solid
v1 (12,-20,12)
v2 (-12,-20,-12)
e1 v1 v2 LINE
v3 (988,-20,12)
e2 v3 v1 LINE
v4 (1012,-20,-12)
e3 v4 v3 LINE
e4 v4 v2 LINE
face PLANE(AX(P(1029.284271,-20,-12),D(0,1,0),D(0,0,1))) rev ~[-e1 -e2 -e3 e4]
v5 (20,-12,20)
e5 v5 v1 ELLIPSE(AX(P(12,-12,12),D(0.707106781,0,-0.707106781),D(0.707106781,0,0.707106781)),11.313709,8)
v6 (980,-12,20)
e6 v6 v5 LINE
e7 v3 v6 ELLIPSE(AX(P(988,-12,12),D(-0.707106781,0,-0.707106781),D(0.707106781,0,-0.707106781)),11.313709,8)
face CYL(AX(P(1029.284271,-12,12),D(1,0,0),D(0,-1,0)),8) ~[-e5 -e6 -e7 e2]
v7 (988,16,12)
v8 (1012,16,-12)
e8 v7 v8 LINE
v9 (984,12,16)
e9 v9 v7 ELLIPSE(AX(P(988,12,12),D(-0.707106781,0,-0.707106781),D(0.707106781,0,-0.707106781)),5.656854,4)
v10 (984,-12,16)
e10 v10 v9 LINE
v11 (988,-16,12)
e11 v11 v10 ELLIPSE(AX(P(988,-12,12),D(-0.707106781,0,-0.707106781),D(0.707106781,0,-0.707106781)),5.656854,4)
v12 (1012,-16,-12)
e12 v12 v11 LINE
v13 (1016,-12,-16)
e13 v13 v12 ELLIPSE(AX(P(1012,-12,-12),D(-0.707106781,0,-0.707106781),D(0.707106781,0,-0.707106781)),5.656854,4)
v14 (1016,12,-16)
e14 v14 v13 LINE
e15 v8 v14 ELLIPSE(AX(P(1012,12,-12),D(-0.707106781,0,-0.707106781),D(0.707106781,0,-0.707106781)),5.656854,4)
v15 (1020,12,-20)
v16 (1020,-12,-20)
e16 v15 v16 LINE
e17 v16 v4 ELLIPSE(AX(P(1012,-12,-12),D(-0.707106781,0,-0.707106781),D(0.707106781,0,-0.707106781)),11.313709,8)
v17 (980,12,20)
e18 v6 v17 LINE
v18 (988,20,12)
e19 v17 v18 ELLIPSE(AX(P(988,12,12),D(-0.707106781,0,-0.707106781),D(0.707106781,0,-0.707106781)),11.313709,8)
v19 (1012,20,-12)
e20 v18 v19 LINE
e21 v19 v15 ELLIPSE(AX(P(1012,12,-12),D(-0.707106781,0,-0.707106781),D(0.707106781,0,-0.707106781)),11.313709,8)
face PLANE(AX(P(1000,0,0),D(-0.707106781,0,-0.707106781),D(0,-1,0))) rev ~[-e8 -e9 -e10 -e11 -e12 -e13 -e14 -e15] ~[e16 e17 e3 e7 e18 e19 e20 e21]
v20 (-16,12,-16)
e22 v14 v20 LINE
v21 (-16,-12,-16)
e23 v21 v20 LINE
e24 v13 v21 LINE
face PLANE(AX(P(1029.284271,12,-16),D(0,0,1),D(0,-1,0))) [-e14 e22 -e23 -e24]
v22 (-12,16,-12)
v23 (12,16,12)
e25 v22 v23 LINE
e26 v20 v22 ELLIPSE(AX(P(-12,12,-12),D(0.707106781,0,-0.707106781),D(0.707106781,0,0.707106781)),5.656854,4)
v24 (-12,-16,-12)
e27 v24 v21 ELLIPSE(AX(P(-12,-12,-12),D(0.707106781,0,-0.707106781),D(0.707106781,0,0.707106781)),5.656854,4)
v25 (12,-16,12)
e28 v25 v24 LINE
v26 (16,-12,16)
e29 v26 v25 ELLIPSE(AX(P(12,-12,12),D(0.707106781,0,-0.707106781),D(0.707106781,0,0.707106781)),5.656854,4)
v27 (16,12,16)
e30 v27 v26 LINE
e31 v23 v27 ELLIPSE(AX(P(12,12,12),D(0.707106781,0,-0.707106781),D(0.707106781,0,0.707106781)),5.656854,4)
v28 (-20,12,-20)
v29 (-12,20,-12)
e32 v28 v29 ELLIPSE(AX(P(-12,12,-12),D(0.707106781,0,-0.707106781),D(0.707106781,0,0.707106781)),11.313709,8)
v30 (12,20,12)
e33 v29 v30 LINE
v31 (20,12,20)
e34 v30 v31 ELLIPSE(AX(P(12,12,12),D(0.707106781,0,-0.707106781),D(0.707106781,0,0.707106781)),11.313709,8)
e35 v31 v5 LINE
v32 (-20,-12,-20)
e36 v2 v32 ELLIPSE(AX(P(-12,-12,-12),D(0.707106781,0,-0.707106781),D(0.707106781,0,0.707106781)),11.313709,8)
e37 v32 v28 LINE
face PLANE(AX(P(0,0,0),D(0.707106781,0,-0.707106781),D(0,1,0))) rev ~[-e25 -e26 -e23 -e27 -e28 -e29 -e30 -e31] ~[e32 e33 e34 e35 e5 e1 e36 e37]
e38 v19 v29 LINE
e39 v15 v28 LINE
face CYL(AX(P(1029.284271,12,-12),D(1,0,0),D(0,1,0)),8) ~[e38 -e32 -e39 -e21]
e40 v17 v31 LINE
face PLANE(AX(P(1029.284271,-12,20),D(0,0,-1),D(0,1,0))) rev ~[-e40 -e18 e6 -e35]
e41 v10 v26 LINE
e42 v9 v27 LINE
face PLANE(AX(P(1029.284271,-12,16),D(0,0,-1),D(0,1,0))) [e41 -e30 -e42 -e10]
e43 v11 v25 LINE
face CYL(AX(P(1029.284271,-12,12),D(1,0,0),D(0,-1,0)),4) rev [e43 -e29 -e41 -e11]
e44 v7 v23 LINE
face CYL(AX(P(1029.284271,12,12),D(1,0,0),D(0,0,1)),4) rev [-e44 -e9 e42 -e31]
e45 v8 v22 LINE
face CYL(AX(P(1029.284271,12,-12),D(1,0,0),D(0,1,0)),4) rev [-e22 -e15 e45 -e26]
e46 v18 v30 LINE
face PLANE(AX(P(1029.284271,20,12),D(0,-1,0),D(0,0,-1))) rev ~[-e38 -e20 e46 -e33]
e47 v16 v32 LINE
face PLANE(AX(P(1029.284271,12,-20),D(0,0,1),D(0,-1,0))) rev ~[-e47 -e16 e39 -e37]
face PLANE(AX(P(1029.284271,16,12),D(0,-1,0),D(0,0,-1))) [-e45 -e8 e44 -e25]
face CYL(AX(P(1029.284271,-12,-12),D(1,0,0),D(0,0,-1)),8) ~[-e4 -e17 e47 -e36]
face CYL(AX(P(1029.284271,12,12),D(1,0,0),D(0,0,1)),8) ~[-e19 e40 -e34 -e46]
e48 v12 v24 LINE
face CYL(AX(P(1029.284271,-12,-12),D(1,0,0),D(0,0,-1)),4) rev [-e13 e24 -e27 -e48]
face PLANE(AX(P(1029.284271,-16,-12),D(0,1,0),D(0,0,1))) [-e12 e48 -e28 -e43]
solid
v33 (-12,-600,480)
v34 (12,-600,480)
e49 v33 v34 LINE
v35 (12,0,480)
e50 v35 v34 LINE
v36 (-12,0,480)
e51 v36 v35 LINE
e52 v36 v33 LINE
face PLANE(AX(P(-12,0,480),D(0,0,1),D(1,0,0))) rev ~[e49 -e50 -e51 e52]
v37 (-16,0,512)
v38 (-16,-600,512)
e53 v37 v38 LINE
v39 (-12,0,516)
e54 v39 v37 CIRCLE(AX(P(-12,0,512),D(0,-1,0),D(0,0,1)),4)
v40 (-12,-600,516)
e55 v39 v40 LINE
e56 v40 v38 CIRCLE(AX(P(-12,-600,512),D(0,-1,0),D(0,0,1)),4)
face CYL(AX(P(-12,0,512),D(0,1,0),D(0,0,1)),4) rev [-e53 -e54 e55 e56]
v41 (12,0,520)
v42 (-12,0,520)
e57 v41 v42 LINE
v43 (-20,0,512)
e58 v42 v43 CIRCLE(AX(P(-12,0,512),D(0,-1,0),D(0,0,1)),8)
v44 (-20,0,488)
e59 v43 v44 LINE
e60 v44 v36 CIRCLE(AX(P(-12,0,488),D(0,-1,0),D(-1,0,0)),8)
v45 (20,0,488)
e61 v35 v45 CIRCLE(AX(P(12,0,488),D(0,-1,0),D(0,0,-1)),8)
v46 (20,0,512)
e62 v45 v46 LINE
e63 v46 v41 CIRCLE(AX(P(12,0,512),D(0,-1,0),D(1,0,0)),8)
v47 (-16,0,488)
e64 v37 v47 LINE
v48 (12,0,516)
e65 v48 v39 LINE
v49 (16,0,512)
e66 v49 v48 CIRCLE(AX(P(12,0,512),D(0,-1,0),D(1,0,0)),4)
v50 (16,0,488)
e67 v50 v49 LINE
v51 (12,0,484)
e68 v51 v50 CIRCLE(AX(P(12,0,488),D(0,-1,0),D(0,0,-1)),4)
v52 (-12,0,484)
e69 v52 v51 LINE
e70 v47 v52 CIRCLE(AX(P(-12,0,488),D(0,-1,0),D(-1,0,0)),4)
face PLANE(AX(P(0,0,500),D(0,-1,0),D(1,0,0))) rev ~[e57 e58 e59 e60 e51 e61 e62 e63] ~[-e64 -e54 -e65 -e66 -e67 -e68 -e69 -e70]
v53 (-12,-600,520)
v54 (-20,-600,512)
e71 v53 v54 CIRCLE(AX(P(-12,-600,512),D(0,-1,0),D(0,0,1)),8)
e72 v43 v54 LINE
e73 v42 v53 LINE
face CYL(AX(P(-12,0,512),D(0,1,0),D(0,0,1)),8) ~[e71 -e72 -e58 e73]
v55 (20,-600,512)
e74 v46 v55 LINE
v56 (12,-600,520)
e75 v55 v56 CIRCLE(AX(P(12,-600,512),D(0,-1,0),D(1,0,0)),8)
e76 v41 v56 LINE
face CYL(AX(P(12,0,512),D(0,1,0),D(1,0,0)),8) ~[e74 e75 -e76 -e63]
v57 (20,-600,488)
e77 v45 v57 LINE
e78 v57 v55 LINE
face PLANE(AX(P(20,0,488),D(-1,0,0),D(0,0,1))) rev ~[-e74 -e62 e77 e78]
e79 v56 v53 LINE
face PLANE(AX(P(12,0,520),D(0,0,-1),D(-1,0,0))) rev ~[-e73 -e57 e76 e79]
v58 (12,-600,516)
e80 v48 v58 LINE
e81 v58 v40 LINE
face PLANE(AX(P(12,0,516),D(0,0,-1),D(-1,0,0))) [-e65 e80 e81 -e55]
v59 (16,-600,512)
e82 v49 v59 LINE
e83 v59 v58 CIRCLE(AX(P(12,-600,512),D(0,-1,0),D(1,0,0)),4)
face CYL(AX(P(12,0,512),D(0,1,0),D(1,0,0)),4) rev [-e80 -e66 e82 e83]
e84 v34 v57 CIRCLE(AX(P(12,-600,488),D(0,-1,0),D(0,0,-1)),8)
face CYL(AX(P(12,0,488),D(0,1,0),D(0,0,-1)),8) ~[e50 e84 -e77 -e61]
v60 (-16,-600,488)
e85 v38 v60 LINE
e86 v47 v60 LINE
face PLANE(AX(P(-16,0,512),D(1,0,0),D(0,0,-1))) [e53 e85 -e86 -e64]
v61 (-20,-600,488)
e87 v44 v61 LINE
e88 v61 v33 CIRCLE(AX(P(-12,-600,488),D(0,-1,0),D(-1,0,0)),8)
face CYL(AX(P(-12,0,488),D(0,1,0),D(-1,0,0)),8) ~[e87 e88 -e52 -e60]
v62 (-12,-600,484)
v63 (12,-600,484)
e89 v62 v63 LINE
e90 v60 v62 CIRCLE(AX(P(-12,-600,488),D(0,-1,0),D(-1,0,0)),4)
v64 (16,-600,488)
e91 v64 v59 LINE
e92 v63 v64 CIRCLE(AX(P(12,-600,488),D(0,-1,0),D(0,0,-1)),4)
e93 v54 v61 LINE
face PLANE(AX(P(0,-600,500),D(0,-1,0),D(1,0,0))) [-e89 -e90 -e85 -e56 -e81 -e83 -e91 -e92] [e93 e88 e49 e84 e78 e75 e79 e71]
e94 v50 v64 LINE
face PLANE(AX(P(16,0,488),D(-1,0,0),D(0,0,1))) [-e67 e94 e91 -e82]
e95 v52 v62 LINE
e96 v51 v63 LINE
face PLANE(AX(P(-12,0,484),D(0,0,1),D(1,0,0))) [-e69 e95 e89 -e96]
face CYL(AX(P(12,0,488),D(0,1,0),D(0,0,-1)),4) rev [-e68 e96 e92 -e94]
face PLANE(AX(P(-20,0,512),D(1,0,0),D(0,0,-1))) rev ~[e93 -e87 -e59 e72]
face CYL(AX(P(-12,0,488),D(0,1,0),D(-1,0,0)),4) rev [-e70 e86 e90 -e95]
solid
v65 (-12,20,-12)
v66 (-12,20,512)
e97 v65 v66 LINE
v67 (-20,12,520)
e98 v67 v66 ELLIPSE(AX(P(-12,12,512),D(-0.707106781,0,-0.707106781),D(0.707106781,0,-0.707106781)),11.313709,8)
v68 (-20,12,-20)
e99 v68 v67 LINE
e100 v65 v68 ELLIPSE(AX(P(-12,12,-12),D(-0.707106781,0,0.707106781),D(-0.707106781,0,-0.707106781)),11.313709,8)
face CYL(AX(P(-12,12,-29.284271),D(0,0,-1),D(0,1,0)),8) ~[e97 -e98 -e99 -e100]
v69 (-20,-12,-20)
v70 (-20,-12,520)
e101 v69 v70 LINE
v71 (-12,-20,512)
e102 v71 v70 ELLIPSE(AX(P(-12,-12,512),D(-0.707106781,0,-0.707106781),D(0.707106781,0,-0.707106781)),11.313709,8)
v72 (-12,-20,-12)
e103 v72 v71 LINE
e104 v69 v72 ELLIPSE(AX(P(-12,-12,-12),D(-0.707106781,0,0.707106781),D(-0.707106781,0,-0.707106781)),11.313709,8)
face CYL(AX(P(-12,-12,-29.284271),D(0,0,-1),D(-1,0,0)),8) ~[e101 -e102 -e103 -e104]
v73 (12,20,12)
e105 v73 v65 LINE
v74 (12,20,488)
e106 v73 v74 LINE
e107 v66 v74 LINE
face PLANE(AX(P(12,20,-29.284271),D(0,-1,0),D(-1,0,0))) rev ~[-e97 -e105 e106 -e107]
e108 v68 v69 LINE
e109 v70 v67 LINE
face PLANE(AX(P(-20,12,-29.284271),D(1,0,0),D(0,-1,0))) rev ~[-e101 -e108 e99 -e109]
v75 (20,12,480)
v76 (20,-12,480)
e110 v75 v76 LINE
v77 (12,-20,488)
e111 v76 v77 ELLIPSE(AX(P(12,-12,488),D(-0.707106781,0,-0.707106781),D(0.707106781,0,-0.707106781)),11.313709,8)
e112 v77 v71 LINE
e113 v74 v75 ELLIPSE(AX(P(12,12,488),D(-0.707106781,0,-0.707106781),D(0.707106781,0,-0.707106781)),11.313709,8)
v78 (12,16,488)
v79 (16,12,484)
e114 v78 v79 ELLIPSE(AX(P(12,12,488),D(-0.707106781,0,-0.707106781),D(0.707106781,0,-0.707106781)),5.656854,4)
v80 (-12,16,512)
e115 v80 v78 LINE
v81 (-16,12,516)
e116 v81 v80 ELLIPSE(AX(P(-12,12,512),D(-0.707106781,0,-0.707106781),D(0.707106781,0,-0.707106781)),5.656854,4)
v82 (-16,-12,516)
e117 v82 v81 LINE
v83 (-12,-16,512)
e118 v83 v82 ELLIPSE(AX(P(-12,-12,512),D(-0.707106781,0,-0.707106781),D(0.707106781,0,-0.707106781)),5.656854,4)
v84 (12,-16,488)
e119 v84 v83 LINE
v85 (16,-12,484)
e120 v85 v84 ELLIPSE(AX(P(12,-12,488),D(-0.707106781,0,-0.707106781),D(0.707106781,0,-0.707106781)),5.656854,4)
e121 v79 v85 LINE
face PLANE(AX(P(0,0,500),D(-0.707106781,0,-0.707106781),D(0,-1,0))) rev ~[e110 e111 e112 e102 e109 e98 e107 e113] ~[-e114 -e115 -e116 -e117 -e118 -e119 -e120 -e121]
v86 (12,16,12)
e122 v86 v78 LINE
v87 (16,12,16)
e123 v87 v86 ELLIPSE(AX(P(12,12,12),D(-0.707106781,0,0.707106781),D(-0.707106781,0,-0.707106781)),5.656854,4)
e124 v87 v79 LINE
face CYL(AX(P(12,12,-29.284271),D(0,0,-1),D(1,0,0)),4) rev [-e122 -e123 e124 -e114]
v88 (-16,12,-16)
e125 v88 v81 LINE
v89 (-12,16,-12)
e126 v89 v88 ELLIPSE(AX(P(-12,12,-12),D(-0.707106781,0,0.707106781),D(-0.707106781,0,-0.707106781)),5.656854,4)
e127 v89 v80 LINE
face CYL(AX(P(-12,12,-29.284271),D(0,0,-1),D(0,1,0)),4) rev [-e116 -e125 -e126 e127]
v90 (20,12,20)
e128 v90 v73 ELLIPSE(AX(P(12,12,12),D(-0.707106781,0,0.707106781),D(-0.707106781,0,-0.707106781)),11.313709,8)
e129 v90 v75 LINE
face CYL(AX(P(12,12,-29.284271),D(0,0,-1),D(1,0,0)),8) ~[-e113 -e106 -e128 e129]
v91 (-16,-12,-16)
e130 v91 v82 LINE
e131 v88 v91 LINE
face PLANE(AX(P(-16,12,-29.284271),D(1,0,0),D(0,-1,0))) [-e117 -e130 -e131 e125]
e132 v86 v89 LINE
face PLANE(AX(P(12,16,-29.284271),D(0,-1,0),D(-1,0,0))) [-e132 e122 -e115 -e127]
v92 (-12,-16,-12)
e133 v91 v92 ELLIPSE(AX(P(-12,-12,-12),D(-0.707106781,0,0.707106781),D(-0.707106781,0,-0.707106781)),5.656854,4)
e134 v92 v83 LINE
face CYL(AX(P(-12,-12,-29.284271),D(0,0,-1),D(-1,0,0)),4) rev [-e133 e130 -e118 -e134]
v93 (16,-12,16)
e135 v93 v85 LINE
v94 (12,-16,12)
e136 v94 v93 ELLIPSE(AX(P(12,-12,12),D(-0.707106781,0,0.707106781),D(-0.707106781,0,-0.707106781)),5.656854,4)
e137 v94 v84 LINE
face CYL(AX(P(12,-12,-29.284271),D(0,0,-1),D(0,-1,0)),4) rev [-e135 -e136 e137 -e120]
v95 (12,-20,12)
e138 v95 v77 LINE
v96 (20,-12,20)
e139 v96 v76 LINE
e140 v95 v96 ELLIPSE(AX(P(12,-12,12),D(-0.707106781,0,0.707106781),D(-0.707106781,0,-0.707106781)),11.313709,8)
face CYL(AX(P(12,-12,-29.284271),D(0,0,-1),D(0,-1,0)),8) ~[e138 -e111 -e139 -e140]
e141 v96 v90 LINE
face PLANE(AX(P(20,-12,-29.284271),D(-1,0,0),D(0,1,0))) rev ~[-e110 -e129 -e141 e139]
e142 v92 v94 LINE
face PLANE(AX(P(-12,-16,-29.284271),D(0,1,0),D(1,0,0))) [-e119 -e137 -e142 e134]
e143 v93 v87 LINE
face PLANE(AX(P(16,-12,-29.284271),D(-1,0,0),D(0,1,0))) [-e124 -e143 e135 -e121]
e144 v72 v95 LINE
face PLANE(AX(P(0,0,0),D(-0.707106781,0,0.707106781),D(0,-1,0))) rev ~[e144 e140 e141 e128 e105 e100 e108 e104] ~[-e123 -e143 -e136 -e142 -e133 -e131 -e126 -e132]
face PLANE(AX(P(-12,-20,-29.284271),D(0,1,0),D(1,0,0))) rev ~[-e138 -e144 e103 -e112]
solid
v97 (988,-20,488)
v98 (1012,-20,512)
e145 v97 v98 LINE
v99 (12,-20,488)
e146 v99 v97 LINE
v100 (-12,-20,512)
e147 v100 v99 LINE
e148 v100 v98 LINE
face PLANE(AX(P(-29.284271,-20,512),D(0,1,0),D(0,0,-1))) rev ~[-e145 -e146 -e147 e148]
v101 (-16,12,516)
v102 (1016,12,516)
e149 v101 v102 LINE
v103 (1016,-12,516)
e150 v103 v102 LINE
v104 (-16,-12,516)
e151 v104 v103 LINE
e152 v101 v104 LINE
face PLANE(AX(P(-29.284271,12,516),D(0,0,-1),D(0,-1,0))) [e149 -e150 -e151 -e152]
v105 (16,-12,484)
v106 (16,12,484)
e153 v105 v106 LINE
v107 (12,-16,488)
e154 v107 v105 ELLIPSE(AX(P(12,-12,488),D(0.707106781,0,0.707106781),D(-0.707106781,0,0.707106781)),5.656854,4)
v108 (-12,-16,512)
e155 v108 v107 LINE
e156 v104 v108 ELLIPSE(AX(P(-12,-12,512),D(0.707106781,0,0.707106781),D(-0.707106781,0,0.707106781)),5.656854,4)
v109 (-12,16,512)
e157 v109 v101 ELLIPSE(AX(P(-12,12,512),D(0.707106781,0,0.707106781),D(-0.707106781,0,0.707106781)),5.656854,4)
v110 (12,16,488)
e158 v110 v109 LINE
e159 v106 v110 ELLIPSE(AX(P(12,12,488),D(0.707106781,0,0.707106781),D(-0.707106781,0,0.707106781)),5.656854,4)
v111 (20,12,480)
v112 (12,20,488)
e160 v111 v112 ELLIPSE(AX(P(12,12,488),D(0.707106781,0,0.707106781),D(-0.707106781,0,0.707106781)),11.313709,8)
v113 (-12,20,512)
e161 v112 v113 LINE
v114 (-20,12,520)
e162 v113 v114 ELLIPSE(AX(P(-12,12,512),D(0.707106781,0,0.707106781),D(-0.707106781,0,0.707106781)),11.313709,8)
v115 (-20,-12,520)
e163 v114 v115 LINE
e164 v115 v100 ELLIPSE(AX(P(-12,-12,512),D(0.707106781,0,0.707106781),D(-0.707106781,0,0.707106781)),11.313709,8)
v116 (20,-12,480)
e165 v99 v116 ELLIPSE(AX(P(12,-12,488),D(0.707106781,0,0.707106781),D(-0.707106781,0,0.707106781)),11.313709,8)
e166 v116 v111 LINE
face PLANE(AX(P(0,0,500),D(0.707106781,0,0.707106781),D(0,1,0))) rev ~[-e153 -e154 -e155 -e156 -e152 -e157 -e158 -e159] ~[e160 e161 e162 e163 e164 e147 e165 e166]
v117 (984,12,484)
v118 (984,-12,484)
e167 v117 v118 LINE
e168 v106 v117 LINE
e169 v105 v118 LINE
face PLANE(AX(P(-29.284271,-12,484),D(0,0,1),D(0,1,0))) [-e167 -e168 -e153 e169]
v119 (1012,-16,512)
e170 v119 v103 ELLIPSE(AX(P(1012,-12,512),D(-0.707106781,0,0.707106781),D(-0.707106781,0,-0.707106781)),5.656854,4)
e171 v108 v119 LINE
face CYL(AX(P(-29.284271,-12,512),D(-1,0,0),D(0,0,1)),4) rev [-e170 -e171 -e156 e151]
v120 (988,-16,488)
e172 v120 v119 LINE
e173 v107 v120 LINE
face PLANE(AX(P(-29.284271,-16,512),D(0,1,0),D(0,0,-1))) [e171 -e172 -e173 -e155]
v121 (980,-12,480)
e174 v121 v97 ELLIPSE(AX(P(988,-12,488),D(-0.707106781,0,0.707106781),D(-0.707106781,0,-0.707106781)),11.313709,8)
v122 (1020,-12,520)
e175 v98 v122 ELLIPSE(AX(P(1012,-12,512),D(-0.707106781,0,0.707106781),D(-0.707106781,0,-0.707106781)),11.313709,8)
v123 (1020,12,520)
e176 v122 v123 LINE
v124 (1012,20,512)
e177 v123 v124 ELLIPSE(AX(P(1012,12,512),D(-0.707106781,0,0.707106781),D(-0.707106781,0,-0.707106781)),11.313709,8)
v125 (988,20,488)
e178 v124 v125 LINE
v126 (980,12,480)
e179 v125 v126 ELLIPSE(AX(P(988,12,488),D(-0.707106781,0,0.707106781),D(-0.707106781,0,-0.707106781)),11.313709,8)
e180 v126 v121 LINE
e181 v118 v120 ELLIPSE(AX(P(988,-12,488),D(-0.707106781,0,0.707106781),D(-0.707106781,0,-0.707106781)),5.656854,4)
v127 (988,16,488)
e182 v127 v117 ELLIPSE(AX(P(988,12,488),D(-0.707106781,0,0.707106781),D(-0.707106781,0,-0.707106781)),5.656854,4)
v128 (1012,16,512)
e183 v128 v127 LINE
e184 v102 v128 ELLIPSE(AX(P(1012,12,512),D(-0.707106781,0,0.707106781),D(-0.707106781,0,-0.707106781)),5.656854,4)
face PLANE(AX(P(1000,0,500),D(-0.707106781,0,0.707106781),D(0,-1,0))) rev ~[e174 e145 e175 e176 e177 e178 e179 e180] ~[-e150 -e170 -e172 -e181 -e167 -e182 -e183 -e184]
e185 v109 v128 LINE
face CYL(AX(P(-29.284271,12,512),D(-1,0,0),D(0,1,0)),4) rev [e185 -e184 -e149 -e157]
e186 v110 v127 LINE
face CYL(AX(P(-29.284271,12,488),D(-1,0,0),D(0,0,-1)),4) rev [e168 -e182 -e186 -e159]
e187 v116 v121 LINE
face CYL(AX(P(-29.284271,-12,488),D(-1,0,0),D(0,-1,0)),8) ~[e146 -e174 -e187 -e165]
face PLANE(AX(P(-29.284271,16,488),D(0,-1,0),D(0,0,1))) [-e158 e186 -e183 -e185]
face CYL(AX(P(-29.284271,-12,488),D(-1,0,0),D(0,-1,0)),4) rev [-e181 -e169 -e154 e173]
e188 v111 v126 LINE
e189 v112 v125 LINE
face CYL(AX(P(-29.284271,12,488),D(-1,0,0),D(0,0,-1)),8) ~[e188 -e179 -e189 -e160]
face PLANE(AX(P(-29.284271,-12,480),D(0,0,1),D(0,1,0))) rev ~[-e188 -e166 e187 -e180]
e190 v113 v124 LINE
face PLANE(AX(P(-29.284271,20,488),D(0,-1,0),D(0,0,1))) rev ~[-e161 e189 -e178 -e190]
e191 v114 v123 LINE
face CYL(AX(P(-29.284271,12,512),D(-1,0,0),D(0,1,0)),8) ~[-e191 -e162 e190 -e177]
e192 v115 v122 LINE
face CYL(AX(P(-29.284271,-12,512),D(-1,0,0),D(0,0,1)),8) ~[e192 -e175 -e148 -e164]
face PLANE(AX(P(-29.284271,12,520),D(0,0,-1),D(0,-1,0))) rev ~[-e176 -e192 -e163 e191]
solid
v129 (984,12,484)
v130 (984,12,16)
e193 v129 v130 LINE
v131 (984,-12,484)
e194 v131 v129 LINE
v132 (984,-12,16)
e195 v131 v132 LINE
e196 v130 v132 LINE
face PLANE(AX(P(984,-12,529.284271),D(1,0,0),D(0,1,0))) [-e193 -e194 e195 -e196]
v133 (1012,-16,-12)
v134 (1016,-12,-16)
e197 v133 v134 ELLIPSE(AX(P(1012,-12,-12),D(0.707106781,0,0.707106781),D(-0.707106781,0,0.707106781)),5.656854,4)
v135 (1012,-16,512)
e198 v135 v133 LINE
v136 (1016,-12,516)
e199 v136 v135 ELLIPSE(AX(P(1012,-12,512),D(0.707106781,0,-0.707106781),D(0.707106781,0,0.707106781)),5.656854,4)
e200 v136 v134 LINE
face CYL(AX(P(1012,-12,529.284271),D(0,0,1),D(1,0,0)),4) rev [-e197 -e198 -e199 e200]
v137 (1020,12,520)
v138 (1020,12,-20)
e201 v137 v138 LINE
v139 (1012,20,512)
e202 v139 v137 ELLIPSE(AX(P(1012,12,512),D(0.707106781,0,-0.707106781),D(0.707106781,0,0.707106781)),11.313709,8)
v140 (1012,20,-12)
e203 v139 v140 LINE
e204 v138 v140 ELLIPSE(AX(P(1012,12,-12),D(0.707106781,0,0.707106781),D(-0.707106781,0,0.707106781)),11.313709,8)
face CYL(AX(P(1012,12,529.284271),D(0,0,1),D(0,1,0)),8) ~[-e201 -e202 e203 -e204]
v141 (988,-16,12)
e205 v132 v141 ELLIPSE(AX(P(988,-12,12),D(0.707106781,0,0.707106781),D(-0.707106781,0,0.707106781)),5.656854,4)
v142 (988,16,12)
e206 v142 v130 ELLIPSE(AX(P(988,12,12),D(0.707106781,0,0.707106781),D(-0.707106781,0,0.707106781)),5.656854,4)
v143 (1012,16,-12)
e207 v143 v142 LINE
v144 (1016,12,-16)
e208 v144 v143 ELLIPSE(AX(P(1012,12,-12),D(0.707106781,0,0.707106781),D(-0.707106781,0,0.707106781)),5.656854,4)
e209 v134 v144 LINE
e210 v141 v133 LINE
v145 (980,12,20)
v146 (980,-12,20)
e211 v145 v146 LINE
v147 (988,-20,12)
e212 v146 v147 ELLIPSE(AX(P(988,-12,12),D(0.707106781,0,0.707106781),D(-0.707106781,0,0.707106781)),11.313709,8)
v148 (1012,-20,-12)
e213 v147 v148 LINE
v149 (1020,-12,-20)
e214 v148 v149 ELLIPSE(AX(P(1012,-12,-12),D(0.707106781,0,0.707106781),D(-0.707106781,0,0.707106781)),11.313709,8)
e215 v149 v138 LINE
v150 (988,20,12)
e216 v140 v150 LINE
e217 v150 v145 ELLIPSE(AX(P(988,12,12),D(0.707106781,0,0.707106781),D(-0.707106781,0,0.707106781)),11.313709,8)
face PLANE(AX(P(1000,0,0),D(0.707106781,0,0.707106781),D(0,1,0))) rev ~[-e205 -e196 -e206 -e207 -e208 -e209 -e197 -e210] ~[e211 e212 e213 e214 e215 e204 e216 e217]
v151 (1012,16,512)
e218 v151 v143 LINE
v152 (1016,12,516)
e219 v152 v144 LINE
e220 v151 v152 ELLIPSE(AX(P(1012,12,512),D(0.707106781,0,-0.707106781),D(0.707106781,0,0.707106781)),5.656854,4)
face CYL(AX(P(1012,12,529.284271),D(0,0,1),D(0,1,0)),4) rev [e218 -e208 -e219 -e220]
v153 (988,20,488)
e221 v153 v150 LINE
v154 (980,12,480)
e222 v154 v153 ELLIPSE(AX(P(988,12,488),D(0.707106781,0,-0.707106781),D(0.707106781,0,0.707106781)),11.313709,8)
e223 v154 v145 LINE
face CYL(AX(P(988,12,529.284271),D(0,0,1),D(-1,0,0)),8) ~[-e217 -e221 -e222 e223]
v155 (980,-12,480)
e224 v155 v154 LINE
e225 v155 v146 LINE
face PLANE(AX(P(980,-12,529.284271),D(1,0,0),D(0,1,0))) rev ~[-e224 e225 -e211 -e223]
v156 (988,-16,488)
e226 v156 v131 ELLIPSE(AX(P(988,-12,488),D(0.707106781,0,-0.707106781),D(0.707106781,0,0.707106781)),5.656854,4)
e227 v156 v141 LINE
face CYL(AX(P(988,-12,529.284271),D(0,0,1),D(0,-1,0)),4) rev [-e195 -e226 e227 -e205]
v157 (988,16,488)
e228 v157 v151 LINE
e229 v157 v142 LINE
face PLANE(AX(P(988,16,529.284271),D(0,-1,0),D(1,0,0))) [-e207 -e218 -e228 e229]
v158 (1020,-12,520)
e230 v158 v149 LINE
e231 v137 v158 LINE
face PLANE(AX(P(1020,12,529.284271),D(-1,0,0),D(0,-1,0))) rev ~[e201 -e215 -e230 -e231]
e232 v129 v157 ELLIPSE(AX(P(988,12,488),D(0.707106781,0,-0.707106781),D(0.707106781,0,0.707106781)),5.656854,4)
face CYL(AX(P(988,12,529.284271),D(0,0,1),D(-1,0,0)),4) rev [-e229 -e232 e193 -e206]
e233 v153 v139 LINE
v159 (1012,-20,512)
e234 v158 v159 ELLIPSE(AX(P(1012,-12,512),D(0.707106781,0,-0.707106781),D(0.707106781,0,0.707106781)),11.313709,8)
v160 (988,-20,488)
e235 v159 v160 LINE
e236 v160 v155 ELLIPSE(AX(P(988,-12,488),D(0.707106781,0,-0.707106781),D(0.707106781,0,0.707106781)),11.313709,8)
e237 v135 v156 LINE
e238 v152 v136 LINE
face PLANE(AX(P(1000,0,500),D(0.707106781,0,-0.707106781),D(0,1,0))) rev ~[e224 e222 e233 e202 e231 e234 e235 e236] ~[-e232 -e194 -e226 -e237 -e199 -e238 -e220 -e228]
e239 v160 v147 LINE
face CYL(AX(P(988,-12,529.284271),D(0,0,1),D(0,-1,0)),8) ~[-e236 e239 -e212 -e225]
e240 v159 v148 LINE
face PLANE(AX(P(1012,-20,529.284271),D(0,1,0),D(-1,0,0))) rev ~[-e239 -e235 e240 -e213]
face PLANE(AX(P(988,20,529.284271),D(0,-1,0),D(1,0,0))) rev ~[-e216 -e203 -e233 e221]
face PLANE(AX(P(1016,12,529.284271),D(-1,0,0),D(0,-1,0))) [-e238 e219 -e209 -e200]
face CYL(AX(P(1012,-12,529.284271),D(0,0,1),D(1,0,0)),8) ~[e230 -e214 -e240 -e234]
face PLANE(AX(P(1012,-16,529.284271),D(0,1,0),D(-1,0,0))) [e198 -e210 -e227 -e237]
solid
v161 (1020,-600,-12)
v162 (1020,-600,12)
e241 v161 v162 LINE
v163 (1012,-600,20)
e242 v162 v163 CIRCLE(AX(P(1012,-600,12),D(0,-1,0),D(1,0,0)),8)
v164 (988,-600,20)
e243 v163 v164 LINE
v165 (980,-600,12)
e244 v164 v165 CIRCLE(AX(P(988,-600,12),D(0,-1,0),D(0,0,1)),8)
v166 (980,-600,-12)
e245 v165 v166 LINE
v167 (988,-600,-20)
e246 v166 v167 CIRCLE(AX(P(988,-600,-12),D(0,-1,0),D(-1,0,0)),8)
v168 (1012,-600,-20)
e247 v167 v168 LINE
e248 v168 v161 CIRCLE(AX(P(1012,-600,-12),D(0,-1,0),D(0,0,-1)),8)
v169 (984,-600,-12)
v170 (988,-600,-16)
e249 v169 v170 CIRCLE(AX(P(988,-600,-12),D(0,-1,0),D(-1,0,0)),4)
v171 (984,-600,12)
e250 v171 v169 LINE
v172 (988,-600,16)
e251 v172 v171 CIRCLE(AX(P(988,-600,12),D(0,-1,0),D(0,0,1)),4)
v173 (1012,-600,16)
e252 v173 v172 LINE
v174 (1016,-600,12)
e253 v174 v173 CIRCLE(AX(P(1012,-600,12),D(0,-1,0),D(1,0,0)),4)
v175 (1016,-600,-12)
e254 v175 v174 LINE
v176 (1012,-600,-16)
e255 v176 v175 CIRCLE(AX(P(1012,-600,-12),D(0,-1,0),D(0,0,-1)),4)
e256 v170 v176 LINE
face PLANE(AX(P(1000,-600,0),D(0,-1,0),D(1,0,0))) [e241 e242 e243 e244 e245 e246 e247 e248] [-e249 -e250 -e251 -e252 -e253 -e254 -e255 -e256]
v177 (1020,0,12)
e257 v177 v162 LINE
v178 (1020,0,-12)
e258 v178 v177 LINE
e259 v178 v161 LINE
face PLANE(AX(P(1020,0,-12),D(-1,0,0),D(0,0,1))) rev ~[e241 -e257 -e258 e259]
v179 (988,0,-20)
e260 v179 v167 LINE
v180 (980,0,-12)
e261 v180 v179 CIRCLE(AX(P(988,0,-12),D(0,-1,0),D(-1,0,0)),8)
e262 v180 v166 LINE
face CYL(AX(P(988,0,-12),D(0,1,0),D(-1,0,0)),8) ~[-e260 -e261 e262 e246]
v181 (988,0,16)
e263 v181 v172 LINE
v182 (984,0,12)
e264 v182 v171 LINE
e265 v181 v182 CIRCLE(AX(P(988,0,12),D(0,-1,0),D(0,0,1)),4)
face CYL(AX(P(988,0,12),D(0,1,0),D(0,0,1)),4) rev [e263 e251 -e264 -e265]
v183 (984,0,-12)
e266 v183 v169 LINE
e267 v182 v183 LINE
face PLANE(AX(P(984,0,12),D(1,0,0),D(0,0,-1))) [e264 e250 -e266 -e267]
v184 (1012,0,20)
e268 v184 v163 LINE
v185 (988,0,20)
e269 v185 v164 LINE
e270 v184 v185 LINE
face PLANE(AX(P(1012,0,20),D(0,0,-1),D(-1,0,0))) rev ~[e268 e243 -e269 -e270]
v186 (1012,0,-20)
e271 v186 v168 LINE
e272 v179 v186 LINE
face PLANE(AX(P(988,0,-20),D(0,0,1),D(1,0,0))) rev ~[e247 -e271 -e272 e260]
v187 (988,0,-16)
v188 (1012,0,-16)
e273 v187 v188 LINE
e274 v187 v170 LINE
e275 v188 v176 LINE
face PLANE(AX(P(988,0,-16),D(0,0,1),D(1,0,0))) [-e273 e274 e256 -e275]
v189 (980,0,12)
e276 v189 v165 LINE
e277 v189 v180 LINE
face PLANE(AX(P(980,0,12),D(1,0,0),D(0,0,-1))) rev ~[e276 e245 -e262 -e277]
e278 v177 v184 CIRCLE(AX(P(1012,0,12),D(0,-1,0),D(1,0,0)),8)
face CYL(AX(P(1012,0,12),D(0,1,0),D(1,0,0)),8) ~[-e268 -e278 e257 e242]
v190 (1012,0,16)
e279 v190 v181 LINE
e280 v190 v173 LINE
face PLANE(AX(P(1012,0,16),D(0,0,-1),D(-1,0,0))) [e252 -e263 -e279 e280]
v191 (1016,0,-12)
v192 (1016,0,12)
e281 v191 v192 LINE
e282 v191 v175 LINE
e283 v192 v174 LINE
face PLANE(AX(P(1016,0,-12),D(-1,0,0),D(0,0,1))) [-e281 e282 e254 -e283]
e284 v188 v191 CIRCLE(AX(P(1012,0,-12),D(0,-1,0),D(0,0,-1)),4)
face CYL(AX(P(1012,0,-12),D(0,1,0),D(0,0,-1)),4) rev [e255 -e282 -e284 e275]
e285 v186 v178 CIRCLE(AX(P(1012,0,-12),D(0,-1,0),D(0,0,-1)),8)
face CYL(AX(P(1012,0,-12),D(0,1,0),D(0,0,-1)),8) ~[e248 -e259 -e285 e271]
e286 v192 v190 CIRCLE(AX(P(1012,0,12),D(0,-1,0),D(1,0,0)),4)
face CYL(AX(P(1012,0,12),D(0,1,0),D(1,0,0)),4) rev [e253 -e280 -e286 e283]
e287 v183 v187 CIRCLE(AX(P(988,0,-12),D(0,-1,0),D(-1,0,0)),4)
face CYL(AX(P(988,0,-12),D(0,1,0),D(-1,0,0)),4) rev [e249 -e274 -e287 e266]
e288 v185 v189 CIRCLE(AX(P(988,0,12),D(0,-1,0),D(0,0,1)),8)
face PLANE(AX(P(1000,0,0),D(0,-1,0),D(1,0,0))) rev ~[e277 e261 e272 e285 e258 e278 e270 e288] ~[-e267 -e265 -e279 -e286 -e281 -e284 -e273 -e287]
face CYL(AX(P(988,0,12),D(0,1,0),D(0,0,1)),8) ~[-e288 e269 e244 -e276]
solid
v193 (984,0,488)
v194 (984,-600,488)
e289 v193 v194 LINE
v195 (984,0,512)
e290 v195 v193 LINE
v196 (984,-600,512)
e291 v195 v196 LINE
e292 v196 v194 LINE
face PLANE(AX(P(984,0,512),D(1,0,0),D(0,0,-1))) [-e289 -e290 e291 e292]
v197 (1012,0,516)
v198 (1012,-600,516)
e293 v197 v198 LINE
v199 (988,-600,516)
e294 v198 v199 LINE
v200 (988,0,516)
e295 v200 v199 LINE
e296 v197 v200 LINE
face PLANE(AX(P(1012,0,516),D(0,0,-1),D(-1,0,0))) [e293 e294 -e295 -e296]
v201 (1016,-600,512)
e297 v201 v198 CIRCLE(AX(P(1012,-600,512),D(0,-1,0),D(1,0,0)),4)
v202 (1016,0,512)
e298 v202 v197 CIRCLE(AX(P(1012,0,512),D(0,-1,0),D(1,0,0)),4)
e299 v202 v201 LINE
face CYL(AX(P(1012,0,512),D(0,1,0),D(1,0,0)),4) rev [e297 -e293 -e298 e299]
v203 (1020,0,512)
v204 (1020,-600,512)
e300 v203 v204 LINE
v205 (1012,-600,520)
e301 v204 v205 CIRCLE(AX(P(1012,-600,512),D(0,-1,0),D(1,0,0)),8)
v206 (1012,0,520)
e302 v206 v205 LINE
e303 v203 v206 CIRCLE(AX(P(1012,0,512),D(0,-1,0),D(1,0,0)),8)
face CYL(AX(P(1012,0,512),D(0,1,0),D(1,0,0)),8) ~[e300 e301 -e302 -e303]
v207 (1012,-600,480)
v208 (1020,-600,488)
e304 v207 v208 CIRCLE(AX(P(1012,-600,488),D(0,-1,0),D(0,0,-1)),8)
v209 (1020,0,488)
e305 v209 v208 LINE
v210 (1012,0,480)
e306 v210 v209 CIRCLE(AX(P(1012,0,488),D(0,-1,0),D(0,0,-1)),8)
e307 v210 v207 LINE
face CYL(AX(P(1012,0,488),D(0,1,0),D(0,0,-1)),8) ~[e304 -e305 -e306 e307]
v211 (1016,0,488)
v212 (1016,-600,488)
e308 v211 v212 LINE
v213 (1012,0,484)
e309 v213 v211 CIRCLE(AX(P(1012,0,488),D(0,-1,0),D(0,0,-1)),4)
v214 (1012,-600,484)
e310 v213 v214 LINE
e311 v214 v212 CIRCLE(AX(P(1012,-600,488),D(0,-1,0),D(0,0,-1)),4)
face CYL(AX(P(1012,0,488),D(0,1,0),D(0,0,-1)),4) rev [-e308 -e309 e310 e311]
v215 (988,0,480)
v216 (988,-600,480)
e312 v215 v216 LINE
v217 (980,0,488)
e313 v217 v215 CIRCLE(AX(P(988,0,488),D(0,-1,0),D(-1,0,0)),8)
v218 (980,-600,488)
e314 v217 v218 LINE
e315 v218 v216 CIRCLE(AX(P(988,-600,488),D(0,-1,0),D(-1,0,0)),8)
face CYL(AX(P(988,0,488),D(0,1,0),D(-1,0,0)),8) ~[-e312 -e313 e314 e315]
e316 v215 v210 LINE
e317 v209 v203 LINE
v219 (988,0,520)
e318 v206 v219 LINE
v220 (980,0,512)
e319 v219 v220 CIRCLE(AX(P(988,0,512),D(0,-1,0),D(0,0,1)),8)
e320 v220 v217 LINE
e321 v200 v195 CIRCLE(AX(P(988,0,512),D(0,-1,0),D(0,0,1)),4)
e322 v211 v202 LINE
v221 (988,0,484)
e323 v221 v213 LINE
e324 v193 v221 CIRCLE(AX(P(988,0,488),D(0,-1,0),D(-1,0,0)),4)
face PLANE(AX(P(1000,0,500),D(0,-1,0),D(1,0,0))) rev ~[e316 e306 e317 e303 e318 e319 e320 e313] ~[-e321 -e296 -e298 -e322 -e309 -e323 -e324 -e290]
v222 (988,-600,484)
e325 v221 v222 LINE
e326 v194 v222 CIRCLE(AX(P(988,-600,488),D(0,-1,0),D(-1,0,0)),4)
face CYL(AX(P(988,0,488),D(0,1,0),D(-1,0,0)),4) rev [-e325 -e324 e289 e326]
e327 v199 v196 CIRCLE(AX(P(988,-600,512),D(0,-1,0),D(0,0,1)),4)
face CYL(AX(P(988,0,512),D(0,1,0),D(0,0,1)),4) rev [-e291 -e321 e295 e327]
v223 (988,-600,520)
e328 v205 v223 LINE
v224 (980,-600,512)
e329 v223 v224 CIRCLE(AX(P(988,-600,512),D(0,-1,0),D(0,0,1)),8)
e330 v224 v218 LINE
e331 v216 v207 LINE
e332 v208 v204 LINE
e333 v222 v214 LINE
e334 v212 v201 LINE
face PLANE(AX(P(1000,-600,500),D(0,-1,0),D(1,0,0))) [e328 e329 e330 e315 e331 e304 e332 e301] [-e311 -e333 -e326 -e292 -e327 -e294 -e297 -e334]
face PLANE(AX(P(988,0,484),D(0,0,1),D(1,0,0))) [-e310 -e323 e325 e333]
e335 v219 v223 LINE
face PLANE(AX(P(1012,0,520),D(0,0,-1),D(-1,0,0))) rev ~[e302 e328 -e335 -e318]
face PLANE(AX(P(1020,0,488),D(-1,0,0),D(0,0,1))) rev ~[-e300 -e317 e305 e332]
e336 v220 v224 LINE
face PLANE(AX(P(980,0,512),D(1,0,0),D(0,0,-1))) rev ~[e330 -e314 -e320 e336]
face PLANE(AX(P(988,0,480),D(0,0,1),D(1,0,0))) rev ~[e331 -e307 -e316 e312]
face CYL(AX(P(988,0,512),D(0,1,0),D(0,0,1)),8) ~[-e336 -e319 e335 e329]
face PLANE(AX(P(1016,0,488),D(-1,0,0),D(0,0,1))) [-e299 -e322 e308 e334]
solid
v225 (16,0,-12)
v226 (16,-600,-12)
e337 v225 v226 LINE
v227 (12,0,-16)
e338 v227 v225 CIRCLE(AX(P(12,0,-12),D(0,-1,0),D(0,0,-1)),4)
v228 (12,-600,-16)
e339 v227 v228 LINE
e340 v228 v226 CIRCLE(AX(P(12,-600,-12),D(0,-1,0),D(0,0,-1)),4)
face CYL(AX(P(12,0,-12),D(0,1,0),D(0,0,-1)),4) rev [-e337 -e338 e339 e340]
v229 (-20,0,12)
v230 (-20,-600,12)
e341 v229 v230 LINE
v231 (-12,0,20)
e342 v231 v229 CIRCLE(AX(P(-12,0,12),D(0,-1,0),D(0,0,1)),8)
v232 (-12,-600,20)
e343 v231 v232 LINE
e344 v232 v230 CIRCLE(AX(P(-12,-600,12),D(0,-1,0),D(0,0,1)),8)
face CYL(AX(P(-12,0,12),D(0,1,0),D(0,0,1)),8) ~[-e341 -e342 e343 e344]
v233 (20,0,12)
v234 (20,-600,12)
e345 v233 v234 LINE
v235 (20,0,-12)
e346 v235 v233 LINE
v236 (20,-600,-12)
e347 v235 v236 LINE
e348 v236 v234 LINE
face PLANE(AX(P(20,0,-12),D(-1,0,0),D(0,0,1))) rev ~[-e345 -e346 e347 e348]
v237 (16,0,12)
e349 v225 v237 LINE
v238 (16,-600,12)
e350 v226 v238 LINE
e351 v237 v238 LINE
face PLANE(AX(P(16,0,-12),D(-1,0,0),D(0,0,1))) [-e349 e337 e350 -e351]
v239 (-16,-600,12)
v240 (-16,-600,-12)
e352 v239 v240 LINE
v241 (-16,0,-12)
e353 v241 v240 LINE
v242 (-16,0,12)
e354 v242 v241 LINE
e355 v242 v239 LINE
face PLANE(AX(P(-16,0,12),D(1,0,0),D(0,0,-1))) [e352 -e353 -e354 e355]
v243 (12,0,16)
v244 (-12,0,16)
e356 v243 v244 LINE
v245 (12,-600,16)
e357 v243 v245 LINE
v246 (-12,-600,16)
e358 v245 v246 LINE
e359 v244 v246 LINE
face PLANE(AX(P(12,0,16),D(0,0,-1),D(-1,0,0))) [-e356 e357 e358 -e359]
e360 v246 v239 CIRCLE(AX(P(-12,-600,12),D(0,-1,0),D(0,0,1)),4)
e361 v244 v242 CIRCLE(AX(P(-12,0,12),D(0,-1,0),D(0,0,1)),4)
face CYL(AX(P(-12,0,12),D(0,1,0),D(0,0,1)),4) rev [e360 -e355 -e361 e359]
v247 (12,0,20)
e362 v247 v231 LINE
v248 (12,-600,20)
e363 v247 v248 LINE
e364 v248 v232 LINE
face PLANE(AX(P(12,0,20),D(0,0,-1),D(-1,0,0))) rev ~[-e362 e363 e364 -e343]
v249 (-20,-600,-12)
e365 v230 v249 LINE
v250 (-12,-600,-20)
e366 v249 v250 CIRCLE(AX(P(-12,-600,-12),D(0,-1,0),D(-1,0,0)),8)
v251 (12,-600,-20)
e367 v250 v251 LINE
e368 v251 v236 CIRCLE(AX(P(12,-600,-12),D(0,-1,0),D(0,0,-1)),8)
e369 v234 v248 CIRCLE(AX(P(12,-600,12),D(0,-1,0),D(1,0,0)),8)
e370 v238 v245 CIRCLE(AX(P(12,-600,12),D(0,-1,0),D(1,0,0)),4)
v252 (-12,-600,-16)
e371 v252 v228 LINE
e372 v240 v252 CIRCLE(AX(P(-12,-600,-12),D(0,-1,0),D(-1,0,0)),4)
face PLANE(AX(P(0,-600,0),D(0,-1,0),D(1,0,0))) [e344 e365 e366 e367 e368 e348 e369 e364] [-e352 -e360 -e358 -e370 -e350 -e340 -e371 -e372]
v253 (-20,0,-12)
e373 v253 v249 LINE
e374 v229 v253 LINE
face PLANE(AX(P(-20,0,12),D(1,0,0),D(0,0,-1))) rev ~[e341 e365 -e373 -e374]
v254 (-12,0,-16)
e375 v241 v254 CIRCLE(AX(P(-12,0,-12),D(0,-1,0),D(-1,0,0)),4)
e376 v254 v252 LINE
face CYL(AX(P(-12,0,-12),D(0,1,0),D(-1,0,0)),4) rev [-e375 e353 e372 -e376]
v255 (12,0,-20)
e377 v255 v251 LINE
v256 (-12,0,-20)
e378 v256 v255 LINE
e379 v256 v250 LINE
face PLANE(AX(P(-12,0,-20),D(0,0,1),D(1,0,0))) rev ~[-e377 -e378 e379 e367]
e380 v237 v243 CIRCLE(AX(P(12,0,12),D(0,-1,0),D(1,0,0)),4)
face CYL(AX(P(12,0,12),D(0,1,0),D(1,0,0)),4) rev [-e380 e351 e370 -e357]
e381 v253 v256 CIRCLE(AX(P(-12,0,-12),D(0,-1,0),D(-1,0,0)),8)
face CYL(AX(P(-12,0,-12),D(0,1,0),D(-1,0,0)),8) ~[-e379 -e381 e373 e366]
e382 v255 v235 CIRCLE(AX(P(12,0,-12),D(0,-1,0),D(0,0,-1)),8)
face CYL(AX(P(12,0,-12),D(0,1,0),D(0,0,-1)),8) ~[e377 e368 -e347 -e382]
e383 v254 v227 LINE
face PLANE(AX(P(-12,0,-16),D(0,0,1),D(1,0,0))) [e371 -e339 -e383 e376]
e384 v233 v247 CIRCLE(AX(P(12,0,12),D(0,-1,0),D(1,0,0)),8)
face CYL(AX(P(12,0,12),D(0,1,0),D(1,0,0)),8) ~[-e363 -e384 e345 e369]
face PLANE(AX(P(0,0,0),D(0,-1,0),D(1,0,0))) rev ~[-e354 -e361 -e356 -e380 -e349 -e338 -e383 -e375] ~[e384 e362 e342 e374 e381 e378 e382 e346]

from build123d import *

# Parameters (mm, degrees)
SQUARE_TUBE_40_X_40_X_4_1_DEPTH      = 529.284271247
SQUARE_TUBE_40_X_40_X_4_1_DEPTH_BACK = 29.284271247
SQUARE_TUBE_40_X_40_X_4_1_2_DEPTH    = 1058.568542495
SQUARE_TUBE_40_X_40_X_4_1_3_DEPTH    = 558.568542495
SQUARE_TUBE_40_X_40_X_4_1_4_DEPTH    = 1058.568542495
SQUARE_TUBE_40_X_40_X_4_2_DEPTH      = 600
SQUARE_TUBE_40_X_40_X_4_2_2_DEPTH    = 600
SQUARE_TUBE_40_X_40_X_4_2_3_DEPTH    = 600
SQUARE_TUBE_40_X_40_X_4_2_4_DEPTH    = 600


with BuildPart() as part:
    # Sketch1 → Square tube 40 X 40 X 4(1) (new, two sides: drawn at the far end of the back side and taken through both)
    with BuildSketch(Plane.XY.offset(-SQUARE_TUBE_40_X_40_X_4_1_DEPTH_BACK)):
        with BuildLine():
            Line((-12, -20), (12, -20))
            ThreePointArc((12, -20), (17.656854249, -17.656854249), (20, -12))
            Line((20, -12), (20, 12))
            ThreePointArc((20, 12), (17.656854249, 17.656854249), (12, 20))
            Line((12, 20), (-12, 20))
            ThreePointArc((-12, 20), (-17.656854249, 17.656854249), (-20, 12))
            Line((-20, 12), (-20, -12))
            ThreePointArc((-20, -12), (-17.656854249, -17.656854249), (-12, -20))
        make_face()
        with BuildLine():
            Line((-12, -16), (12, -16))
            ThreePointArc((12, -16), (14.828427125, -14.828427125), (16, -12))
            Line((16, -12), (16, 12))
            ThreePointArc((16, 12), (14.828427125, 14.828427125), (12, 16))
            Line((12, 16), (-12, 16))
            ThreePointArc((-12, 16), (-14.828427125, 14.828427125), (-16, 12))
            Line((-16, 12), (-16, -12))
            ThreePointArc((-16, -12), (-14.828427125, -14.828427125), (-12, -16))
        make_face(mode=Mode.SUBTRACT)
    extrude(amount=SQUARE_TUBE_40_X_40_X_4_1_DEPTH + SQUARE_TUBE_40_X_40_X_4_1_DEPTH_BACK)

    # Square tube 40 X 40 X 4(1) mitre 1
    split(bisect_by=Plane(origin=(0, 0, 0), x_dir=(0, -1, 0), z_dir=(-0.707106781, 0, 0.707106781)), keep=Keep.TOP)

    # Square tube 40 X 40 X 4(1) mitre 2
    split(bisect_by=Plane(origin=(0, 0, 500), x_dir=(0, -1, 0), z_dir=(-0.707106781, 0, -0.707106781)), keep=Keep.TOP)


with BuildPart() as body_2:
    # Sketch1 on segment 2 (carried to segment 2) → Square tube 40 X 40 X 4_1 2 (new body)
    with BuildSketch(Plane(origin=(-29.284271247, 0, 500), x_dir=(0, 0, -1), z_dir=(1, 0, 0))):
        with BuildLine():
            Line((-12, -20), (12, -20))
            ThreePointArc((12, -20), (17.656854249, -17.656854249), (20, -12))
            Line((20, -12), (20, 12))
            ThreePointArc((20, 12), (17.656854249, 17.656854249), (12, 20))
            Line((12, 20), (-12, 20))
            ThreePointArc((-12, 20), (-17.656854249, 17.656854249), (-20, 12))
            Line((-20, 12), (-20, -12))
            ThreePointArc((-20, -12), (-17.656854249, -17.656854249), (-12, -20))
        make_face()
        with BuildLine():
            Line((-12, -16), (12, -16))
            ThreePointArc((12, -16), (14.828427125, -14.828427125), (16, -12))
            Line((16, -12), (16, 12))
            ThreePointArc((16, 12), (14.828427125, 14.828427125), (12, 16))
            Line((12, 16), (-12, 16))
            ThreePointArc((-12, 16), (-14.828427125, 14.828427125), (-16, 12))
            Line((-16, 12), (-16, -12))
            ThreePointArc((-16, -12), (-14.828427125, -14.828427125), (-12, -16))
        make_face(mode=Mode.SUBTRACT)
    extrude(amount=SQUARE_TUBE_40_X_40_X_4_1_2_DEPTH)

    # Square tube 40 X 40 X 4_1 2 mitre 1
    split(bisect_by=Plane(origin=(0, 0, 500), x_dir=(0, 1, 0), z_dir=(0.707106781, 0, 0.707106781)), keep=Keep.TOP)

    # Square tube 40 X 40 X 4_1 2 mitre 2
    split(bisect_by=Plane(origin=(1000, 0, 500), x_dir=(0, -1, 0), z_dir=(-0.707106781, 0, 0.707106781)), keep=Keep.TOP)


with BuildPart() as body_3:
    # Sketch1 on segment 3 (carried to segment 3) → Square tube 40 X 40 X 4_1 3 (new body)
    with BuildSketch(Plane(origin=(1000, 0, 529.284271247), x_dir=(-1, 0, 0), z_dir=(0, 0, -1))):
        with BuildLine():
            Line((-12, -20), (12, -20))
            ThreePointArc((12, -20), (17.656854249, -17.656854249), (20, -12))
            Line((20, -12), (20, 12))
            ThreePointArc((20, 12), (17.656854249, 17.656854249), (12, 20))
            Line((12, 20), (-12, 20))
            ThreePointArc((-12, 20), (-17.656854249, 17.656854249), (-20, 12))
            Line((-20, 12), (-20, -12))
            ThreePointArc((-20, -12), (-17.656854249, -17.656854249), (-12, -20))
        make_face()
        with BuildLine():
            Line((-12, -16), (12, -16))
            ThreePointArc((12, -16), (14.828427125, -14.828427125), (16, -12))
            Line((16, -12), (16, 12))
            ThreePointArc((16, 12), (14.828427125, 14.828427125), (12, 16))
            Line((12, 16), (-12, 16))
            ThreePointArc((-12, 16), (-14.828427125, 14.828427125), (-16, 12))
            Line((-16, 12), (-16, -12))
            ThreePointArc((-16, -12), (-14.828427125, -14.828427125), (-12, -16))
        make_face(mode=Mode.SUBTRACT)
    extrude(amount=SQUARE_TUBE_40_X_40_X_4_1_3_DEPTH)

    # Square tube 40 X 40 X 4_1 3 mitre 1
    split(bisect_by=Plane(origin=(1000, 0, 0), x_dir=(0, 1, 0), z_dir=(0.707106781, 0, 0.707106781)), keep=Keep.TOP)

    # Square tube 40 X 40 X 4_1 3 mitre 2
    split(bisect_by=Plane(origin=(1000, 0, 500), x_dir=(0, 1, 0), z_dir=(0.707106781, 0, -0.707106781)), keep=Keep.TOP)


with BuildPart() as body_4:
    # Sketch1 on segment 4 (carried to segment 4) → Square tube 40 X 40 X 4_1 4 (new body)
    with BuildSketch(Plane.ZY.offset(-1029.284271247)):
        with BuildLine():
            Line((-12, -20), (12, -20))
            ThreePointArc((12, -20), (17.656854249, -17.656854249), (20, -12))
            Line((20, -12), (20, 12))
            ThreePointArc((20, 12), (17.656854249, 17.656854249), (12, 20))
            Line((12, 20), (-12, 20))
            ThreePointArc((-12, 20), (-17.656854249, 17.656854249), (-20, 12))
            Line((-20, 12), (-20, -12))
            ThreePointArc((-20, -12), (-17.656854249, -17.656854249), (-12, -20))
        make_face()
        with BuildLine():
            Line((-12, -16), (12, -16))
            ThreePointArc((12, -16), (14.828427125, -14.828427125), (16, -12))
            Line((16, -12), (16, 12))
            ThreePointArc((16, 12), (14.828427125, 14.828427125), (12, 16))
            Line((12, 16), (-12, 16))
            ThreePointArc((-12, 16), (-14.828427125, 14.828427125), (-16, 12))
            Line((-16, 12), (-16, -12))
            ThreePointArc((-16, -12), (-14.828427125, -14.828427125), (-12, -16))
        make_face(mode=Mode.SUBTRACT)
    extrude(amount=SQUARE_TUBE_40_X_40_X_4_1_4_DEPTH)

    # Square tube 40 X 40 X 4_1 4 mitre 1
    split(bisect_by=Plane(origin=(0, 0, 0), x_dir=(0, 1, 0), z_dir=(0.707106781, 0, -0.707106781)), keep=Keep.TOP)

    # Square tube 40 X 40 X 4_1 4 mitre 2
    split(bisect_by=Plane(origin=(1000, 0, 0), x_dir=(0, -1, 0), z_dir=(-0.707106781, 0, -0.707106781)), keep=Keep.TOP)


with BuildPart() as body_5:
    # Sketch11 → Square tube 40 X 40 X 4(2) (new body)
    with BuildSketch(Plane(origin=(0, 0, 500), x_dir=(1, 0, 0), z_dir=(0, -1, 0))):
        with BuildLine():
            Line((-12, -20), (12, -20))
            ThreePointArc((12, -20), (17.656854249, -17.656854249), (20, -12))
            Line((20, -12), (20, 12))
            ThreePointArc((20, 12), (17.656854249, 17.656854249), (12, 20))
            Line((12, 20), (-12, 20))
            ThreePointArc((-12, 20), (-17.656854249, 17.656854249), (-20, 12))
            Line((-20, 12), (-20, -12))
            ThreePointArc((-20, -12), (-17.656854249, -17.656854249), (-12, -20))
        make_face()
        with BuildLine():
            Line((-12, -16), (12, -16))
            ThreePointArc((12, -16), (14.828427125, -14.828427125), (16, -12))
            Line((16, -12), (16, 12))
            ThreePointArc((16, 12), (14.828427125, 14.828427125), (12, 16))
            Line((12, 16), (-12, 16))
            ThreePointArc((-12, 16), (-14.828427125, 14.828427125), (-16, 12))
            Line((-16, 12), (-16, -12))
            ThreePointArc((-16, -12), (-14.828427125, -14.828427125), (-12, -16))
        make_face(mode=Mode.SUBTRACT)
    extrude(amount=SQUARE_TUBE_40_X_40_X_4_2_DEPTH)


with BuildPart() as body_6:
    # Sketch11 on segment 2 (carried to segment 2) → Square tube 40 X 40 X 4_2 2 (new body)
    with BuildSketch(Plane(origin=(1000, 0, 500), x_dir=(1, 0, 0), z_dir=(0, -1, 0))):
        with BuildLine():
            Line((-12, -20), (12, -20))
            ThreePointArc((12, -20), (17.656854249, -17.656854249), (20, -12))
            Line((20, -12), (20, 12))
            ThreePointArc((20, 12), (17.656854249, 17.656854249), (12, 20))
            Line((12, 20), (-12, 20))
            ThreePointArc((-12, 20), (-17.656854249, 17.656854249), (-20, 12))
            Line((-20, 12), (-20, -12))
            ThreePointArc((-20, -12), (-17.656854249, -17.656854249), (-12, -20))
        make_face()
        with BuildLine():
            Line((-12, -16), (12, -16))
            ThreePointArc((12, -16), (14.828427125, -14.828427125), (16, -12))
            Line((16, -12), (16, 12))
            ThreePointArc((16, 12), (14.828427125, 14.828427125), (12, 16))
            Line((12, 16), (-12, 16))
            ThreePointArc((-12, 16), (-14.828427125, 14.828427125), (-16, 12))
            Line((-16, 12), (-16, -12))
            ThreePointArc((-16, -12), (-14.828427125, -14.828427125), (-12, -16))
        make_face(mode=Mode.SUBTRACT)
    extrude(amount=SQUARE_TUBE_40_X_40_X_4_2_2_DEPTH)


with BuildPart() as body_7:
    # Sketch11 on segment 3 (carried to segment 3) → Square tube 40 X 40 X 4_2 3 (new body)
    with BuildSketch(Plane(origin=(1000, 0, 0), x_dir=(1, 0, 0), z_dir=(0, -1, 0))):
        with BuildLine():
            Line((-12, -20), (12, -20))
            ThreePointArc((12, -20), (17.656854249, -17.656854249), (20, -12))
            Line((20, -12), (20, 12))
            ThreePointArc((20, 12), (17.656854249, 17.656854249), (12, 20))
            Line((12, 20), (-12, 20))
            ThreePointArc((-12, 20), (-17.656854249, 17.656854249), (-20, 12))
            Line((-20, 12), (-20, -12))
            ThreePointArc((-20, -12), (-17.656854249, -17.656854249), (-12, -20))
        make_face()
        with BuildLine():
            Line((-12, -16), (12, -16))
            ThreePointArc((12, -16), (14.828427125, -14.828427125), (16, -12))
            Line((16, -12), (16, 12))
            ThreePointArc((16, 12), (14.828427125, 14.828427125), (12, 16))
            Line((12, 16), (-12, 16))
            ThreePointArc((-12, 16), (-14.828427125, 14.828427125), (-16, 12))
            Line((-16, 12), (-16, -12))
            ThreePointArc((-16, -12), (-14.828427125, -14.828427125), (-12, -16))
        make_face(mode=Mode.SUBTRACT)
    extrude(amount=SQUARE_TUBE_40_X_40_X_4_2_3_DEPTH)


with BuildPart() as body_8:
    # Sketch11 on segment 4 (carried to segment 4) → Square tube 40 X 40 X 4_2 4 (new body)
    with BuildSketch(Plane.XZ):
        with BuildLine():
            Line((-12, -20), (12, -20))
            ThreePointArc((12, -20), (17.656854249, -17.656854249), (20, -12))
            Line((20, -12), (20, 12))
            ThreePointArc((20, 12), (17.656854249, 17.656854249), (12, 20))
            Line((12, 20), (-12, 20))
            ThreePointArc((-12, 20), (-17.656854249, 17.656854249), (-20, 12))
            Line((-20, 12), (-20, -12))
            ThreePointArc((-20, -12), (-17.656854249, -17.656854249), (-12, -20))
        make_face()
        with BuildLine():
            Line((-12, -16), (12, -16))
            ThreePointArc((12, -16), (14.828427125, -14.828427125), (16, -12))
            Line((16, -12), (16, 12))
            ThreePointArc((16, 12), (14.828427125, 14.828427125), (12, 16))
            Line((12, 16), (-12, 16))
            ThreePointArc((-12, 16), (-14.828427125, 14.828427125), (-16, 12))
            Line((-16, 12), (-16, -12))
            ThreePointArc((-16, -12), (-14.828427125, -14.828427125), (-12, -16))
        make_face(mode=Mode.SUBTRACT)
    extrude(amount=SQUARE_TUBE_40_X_40_X_4_2_4_DEPTH)


solid = Compound([part.part, body_2.part, body_3.part, body_4.part, body_5.part, body_6.part, body_7.part, body_8.part])
